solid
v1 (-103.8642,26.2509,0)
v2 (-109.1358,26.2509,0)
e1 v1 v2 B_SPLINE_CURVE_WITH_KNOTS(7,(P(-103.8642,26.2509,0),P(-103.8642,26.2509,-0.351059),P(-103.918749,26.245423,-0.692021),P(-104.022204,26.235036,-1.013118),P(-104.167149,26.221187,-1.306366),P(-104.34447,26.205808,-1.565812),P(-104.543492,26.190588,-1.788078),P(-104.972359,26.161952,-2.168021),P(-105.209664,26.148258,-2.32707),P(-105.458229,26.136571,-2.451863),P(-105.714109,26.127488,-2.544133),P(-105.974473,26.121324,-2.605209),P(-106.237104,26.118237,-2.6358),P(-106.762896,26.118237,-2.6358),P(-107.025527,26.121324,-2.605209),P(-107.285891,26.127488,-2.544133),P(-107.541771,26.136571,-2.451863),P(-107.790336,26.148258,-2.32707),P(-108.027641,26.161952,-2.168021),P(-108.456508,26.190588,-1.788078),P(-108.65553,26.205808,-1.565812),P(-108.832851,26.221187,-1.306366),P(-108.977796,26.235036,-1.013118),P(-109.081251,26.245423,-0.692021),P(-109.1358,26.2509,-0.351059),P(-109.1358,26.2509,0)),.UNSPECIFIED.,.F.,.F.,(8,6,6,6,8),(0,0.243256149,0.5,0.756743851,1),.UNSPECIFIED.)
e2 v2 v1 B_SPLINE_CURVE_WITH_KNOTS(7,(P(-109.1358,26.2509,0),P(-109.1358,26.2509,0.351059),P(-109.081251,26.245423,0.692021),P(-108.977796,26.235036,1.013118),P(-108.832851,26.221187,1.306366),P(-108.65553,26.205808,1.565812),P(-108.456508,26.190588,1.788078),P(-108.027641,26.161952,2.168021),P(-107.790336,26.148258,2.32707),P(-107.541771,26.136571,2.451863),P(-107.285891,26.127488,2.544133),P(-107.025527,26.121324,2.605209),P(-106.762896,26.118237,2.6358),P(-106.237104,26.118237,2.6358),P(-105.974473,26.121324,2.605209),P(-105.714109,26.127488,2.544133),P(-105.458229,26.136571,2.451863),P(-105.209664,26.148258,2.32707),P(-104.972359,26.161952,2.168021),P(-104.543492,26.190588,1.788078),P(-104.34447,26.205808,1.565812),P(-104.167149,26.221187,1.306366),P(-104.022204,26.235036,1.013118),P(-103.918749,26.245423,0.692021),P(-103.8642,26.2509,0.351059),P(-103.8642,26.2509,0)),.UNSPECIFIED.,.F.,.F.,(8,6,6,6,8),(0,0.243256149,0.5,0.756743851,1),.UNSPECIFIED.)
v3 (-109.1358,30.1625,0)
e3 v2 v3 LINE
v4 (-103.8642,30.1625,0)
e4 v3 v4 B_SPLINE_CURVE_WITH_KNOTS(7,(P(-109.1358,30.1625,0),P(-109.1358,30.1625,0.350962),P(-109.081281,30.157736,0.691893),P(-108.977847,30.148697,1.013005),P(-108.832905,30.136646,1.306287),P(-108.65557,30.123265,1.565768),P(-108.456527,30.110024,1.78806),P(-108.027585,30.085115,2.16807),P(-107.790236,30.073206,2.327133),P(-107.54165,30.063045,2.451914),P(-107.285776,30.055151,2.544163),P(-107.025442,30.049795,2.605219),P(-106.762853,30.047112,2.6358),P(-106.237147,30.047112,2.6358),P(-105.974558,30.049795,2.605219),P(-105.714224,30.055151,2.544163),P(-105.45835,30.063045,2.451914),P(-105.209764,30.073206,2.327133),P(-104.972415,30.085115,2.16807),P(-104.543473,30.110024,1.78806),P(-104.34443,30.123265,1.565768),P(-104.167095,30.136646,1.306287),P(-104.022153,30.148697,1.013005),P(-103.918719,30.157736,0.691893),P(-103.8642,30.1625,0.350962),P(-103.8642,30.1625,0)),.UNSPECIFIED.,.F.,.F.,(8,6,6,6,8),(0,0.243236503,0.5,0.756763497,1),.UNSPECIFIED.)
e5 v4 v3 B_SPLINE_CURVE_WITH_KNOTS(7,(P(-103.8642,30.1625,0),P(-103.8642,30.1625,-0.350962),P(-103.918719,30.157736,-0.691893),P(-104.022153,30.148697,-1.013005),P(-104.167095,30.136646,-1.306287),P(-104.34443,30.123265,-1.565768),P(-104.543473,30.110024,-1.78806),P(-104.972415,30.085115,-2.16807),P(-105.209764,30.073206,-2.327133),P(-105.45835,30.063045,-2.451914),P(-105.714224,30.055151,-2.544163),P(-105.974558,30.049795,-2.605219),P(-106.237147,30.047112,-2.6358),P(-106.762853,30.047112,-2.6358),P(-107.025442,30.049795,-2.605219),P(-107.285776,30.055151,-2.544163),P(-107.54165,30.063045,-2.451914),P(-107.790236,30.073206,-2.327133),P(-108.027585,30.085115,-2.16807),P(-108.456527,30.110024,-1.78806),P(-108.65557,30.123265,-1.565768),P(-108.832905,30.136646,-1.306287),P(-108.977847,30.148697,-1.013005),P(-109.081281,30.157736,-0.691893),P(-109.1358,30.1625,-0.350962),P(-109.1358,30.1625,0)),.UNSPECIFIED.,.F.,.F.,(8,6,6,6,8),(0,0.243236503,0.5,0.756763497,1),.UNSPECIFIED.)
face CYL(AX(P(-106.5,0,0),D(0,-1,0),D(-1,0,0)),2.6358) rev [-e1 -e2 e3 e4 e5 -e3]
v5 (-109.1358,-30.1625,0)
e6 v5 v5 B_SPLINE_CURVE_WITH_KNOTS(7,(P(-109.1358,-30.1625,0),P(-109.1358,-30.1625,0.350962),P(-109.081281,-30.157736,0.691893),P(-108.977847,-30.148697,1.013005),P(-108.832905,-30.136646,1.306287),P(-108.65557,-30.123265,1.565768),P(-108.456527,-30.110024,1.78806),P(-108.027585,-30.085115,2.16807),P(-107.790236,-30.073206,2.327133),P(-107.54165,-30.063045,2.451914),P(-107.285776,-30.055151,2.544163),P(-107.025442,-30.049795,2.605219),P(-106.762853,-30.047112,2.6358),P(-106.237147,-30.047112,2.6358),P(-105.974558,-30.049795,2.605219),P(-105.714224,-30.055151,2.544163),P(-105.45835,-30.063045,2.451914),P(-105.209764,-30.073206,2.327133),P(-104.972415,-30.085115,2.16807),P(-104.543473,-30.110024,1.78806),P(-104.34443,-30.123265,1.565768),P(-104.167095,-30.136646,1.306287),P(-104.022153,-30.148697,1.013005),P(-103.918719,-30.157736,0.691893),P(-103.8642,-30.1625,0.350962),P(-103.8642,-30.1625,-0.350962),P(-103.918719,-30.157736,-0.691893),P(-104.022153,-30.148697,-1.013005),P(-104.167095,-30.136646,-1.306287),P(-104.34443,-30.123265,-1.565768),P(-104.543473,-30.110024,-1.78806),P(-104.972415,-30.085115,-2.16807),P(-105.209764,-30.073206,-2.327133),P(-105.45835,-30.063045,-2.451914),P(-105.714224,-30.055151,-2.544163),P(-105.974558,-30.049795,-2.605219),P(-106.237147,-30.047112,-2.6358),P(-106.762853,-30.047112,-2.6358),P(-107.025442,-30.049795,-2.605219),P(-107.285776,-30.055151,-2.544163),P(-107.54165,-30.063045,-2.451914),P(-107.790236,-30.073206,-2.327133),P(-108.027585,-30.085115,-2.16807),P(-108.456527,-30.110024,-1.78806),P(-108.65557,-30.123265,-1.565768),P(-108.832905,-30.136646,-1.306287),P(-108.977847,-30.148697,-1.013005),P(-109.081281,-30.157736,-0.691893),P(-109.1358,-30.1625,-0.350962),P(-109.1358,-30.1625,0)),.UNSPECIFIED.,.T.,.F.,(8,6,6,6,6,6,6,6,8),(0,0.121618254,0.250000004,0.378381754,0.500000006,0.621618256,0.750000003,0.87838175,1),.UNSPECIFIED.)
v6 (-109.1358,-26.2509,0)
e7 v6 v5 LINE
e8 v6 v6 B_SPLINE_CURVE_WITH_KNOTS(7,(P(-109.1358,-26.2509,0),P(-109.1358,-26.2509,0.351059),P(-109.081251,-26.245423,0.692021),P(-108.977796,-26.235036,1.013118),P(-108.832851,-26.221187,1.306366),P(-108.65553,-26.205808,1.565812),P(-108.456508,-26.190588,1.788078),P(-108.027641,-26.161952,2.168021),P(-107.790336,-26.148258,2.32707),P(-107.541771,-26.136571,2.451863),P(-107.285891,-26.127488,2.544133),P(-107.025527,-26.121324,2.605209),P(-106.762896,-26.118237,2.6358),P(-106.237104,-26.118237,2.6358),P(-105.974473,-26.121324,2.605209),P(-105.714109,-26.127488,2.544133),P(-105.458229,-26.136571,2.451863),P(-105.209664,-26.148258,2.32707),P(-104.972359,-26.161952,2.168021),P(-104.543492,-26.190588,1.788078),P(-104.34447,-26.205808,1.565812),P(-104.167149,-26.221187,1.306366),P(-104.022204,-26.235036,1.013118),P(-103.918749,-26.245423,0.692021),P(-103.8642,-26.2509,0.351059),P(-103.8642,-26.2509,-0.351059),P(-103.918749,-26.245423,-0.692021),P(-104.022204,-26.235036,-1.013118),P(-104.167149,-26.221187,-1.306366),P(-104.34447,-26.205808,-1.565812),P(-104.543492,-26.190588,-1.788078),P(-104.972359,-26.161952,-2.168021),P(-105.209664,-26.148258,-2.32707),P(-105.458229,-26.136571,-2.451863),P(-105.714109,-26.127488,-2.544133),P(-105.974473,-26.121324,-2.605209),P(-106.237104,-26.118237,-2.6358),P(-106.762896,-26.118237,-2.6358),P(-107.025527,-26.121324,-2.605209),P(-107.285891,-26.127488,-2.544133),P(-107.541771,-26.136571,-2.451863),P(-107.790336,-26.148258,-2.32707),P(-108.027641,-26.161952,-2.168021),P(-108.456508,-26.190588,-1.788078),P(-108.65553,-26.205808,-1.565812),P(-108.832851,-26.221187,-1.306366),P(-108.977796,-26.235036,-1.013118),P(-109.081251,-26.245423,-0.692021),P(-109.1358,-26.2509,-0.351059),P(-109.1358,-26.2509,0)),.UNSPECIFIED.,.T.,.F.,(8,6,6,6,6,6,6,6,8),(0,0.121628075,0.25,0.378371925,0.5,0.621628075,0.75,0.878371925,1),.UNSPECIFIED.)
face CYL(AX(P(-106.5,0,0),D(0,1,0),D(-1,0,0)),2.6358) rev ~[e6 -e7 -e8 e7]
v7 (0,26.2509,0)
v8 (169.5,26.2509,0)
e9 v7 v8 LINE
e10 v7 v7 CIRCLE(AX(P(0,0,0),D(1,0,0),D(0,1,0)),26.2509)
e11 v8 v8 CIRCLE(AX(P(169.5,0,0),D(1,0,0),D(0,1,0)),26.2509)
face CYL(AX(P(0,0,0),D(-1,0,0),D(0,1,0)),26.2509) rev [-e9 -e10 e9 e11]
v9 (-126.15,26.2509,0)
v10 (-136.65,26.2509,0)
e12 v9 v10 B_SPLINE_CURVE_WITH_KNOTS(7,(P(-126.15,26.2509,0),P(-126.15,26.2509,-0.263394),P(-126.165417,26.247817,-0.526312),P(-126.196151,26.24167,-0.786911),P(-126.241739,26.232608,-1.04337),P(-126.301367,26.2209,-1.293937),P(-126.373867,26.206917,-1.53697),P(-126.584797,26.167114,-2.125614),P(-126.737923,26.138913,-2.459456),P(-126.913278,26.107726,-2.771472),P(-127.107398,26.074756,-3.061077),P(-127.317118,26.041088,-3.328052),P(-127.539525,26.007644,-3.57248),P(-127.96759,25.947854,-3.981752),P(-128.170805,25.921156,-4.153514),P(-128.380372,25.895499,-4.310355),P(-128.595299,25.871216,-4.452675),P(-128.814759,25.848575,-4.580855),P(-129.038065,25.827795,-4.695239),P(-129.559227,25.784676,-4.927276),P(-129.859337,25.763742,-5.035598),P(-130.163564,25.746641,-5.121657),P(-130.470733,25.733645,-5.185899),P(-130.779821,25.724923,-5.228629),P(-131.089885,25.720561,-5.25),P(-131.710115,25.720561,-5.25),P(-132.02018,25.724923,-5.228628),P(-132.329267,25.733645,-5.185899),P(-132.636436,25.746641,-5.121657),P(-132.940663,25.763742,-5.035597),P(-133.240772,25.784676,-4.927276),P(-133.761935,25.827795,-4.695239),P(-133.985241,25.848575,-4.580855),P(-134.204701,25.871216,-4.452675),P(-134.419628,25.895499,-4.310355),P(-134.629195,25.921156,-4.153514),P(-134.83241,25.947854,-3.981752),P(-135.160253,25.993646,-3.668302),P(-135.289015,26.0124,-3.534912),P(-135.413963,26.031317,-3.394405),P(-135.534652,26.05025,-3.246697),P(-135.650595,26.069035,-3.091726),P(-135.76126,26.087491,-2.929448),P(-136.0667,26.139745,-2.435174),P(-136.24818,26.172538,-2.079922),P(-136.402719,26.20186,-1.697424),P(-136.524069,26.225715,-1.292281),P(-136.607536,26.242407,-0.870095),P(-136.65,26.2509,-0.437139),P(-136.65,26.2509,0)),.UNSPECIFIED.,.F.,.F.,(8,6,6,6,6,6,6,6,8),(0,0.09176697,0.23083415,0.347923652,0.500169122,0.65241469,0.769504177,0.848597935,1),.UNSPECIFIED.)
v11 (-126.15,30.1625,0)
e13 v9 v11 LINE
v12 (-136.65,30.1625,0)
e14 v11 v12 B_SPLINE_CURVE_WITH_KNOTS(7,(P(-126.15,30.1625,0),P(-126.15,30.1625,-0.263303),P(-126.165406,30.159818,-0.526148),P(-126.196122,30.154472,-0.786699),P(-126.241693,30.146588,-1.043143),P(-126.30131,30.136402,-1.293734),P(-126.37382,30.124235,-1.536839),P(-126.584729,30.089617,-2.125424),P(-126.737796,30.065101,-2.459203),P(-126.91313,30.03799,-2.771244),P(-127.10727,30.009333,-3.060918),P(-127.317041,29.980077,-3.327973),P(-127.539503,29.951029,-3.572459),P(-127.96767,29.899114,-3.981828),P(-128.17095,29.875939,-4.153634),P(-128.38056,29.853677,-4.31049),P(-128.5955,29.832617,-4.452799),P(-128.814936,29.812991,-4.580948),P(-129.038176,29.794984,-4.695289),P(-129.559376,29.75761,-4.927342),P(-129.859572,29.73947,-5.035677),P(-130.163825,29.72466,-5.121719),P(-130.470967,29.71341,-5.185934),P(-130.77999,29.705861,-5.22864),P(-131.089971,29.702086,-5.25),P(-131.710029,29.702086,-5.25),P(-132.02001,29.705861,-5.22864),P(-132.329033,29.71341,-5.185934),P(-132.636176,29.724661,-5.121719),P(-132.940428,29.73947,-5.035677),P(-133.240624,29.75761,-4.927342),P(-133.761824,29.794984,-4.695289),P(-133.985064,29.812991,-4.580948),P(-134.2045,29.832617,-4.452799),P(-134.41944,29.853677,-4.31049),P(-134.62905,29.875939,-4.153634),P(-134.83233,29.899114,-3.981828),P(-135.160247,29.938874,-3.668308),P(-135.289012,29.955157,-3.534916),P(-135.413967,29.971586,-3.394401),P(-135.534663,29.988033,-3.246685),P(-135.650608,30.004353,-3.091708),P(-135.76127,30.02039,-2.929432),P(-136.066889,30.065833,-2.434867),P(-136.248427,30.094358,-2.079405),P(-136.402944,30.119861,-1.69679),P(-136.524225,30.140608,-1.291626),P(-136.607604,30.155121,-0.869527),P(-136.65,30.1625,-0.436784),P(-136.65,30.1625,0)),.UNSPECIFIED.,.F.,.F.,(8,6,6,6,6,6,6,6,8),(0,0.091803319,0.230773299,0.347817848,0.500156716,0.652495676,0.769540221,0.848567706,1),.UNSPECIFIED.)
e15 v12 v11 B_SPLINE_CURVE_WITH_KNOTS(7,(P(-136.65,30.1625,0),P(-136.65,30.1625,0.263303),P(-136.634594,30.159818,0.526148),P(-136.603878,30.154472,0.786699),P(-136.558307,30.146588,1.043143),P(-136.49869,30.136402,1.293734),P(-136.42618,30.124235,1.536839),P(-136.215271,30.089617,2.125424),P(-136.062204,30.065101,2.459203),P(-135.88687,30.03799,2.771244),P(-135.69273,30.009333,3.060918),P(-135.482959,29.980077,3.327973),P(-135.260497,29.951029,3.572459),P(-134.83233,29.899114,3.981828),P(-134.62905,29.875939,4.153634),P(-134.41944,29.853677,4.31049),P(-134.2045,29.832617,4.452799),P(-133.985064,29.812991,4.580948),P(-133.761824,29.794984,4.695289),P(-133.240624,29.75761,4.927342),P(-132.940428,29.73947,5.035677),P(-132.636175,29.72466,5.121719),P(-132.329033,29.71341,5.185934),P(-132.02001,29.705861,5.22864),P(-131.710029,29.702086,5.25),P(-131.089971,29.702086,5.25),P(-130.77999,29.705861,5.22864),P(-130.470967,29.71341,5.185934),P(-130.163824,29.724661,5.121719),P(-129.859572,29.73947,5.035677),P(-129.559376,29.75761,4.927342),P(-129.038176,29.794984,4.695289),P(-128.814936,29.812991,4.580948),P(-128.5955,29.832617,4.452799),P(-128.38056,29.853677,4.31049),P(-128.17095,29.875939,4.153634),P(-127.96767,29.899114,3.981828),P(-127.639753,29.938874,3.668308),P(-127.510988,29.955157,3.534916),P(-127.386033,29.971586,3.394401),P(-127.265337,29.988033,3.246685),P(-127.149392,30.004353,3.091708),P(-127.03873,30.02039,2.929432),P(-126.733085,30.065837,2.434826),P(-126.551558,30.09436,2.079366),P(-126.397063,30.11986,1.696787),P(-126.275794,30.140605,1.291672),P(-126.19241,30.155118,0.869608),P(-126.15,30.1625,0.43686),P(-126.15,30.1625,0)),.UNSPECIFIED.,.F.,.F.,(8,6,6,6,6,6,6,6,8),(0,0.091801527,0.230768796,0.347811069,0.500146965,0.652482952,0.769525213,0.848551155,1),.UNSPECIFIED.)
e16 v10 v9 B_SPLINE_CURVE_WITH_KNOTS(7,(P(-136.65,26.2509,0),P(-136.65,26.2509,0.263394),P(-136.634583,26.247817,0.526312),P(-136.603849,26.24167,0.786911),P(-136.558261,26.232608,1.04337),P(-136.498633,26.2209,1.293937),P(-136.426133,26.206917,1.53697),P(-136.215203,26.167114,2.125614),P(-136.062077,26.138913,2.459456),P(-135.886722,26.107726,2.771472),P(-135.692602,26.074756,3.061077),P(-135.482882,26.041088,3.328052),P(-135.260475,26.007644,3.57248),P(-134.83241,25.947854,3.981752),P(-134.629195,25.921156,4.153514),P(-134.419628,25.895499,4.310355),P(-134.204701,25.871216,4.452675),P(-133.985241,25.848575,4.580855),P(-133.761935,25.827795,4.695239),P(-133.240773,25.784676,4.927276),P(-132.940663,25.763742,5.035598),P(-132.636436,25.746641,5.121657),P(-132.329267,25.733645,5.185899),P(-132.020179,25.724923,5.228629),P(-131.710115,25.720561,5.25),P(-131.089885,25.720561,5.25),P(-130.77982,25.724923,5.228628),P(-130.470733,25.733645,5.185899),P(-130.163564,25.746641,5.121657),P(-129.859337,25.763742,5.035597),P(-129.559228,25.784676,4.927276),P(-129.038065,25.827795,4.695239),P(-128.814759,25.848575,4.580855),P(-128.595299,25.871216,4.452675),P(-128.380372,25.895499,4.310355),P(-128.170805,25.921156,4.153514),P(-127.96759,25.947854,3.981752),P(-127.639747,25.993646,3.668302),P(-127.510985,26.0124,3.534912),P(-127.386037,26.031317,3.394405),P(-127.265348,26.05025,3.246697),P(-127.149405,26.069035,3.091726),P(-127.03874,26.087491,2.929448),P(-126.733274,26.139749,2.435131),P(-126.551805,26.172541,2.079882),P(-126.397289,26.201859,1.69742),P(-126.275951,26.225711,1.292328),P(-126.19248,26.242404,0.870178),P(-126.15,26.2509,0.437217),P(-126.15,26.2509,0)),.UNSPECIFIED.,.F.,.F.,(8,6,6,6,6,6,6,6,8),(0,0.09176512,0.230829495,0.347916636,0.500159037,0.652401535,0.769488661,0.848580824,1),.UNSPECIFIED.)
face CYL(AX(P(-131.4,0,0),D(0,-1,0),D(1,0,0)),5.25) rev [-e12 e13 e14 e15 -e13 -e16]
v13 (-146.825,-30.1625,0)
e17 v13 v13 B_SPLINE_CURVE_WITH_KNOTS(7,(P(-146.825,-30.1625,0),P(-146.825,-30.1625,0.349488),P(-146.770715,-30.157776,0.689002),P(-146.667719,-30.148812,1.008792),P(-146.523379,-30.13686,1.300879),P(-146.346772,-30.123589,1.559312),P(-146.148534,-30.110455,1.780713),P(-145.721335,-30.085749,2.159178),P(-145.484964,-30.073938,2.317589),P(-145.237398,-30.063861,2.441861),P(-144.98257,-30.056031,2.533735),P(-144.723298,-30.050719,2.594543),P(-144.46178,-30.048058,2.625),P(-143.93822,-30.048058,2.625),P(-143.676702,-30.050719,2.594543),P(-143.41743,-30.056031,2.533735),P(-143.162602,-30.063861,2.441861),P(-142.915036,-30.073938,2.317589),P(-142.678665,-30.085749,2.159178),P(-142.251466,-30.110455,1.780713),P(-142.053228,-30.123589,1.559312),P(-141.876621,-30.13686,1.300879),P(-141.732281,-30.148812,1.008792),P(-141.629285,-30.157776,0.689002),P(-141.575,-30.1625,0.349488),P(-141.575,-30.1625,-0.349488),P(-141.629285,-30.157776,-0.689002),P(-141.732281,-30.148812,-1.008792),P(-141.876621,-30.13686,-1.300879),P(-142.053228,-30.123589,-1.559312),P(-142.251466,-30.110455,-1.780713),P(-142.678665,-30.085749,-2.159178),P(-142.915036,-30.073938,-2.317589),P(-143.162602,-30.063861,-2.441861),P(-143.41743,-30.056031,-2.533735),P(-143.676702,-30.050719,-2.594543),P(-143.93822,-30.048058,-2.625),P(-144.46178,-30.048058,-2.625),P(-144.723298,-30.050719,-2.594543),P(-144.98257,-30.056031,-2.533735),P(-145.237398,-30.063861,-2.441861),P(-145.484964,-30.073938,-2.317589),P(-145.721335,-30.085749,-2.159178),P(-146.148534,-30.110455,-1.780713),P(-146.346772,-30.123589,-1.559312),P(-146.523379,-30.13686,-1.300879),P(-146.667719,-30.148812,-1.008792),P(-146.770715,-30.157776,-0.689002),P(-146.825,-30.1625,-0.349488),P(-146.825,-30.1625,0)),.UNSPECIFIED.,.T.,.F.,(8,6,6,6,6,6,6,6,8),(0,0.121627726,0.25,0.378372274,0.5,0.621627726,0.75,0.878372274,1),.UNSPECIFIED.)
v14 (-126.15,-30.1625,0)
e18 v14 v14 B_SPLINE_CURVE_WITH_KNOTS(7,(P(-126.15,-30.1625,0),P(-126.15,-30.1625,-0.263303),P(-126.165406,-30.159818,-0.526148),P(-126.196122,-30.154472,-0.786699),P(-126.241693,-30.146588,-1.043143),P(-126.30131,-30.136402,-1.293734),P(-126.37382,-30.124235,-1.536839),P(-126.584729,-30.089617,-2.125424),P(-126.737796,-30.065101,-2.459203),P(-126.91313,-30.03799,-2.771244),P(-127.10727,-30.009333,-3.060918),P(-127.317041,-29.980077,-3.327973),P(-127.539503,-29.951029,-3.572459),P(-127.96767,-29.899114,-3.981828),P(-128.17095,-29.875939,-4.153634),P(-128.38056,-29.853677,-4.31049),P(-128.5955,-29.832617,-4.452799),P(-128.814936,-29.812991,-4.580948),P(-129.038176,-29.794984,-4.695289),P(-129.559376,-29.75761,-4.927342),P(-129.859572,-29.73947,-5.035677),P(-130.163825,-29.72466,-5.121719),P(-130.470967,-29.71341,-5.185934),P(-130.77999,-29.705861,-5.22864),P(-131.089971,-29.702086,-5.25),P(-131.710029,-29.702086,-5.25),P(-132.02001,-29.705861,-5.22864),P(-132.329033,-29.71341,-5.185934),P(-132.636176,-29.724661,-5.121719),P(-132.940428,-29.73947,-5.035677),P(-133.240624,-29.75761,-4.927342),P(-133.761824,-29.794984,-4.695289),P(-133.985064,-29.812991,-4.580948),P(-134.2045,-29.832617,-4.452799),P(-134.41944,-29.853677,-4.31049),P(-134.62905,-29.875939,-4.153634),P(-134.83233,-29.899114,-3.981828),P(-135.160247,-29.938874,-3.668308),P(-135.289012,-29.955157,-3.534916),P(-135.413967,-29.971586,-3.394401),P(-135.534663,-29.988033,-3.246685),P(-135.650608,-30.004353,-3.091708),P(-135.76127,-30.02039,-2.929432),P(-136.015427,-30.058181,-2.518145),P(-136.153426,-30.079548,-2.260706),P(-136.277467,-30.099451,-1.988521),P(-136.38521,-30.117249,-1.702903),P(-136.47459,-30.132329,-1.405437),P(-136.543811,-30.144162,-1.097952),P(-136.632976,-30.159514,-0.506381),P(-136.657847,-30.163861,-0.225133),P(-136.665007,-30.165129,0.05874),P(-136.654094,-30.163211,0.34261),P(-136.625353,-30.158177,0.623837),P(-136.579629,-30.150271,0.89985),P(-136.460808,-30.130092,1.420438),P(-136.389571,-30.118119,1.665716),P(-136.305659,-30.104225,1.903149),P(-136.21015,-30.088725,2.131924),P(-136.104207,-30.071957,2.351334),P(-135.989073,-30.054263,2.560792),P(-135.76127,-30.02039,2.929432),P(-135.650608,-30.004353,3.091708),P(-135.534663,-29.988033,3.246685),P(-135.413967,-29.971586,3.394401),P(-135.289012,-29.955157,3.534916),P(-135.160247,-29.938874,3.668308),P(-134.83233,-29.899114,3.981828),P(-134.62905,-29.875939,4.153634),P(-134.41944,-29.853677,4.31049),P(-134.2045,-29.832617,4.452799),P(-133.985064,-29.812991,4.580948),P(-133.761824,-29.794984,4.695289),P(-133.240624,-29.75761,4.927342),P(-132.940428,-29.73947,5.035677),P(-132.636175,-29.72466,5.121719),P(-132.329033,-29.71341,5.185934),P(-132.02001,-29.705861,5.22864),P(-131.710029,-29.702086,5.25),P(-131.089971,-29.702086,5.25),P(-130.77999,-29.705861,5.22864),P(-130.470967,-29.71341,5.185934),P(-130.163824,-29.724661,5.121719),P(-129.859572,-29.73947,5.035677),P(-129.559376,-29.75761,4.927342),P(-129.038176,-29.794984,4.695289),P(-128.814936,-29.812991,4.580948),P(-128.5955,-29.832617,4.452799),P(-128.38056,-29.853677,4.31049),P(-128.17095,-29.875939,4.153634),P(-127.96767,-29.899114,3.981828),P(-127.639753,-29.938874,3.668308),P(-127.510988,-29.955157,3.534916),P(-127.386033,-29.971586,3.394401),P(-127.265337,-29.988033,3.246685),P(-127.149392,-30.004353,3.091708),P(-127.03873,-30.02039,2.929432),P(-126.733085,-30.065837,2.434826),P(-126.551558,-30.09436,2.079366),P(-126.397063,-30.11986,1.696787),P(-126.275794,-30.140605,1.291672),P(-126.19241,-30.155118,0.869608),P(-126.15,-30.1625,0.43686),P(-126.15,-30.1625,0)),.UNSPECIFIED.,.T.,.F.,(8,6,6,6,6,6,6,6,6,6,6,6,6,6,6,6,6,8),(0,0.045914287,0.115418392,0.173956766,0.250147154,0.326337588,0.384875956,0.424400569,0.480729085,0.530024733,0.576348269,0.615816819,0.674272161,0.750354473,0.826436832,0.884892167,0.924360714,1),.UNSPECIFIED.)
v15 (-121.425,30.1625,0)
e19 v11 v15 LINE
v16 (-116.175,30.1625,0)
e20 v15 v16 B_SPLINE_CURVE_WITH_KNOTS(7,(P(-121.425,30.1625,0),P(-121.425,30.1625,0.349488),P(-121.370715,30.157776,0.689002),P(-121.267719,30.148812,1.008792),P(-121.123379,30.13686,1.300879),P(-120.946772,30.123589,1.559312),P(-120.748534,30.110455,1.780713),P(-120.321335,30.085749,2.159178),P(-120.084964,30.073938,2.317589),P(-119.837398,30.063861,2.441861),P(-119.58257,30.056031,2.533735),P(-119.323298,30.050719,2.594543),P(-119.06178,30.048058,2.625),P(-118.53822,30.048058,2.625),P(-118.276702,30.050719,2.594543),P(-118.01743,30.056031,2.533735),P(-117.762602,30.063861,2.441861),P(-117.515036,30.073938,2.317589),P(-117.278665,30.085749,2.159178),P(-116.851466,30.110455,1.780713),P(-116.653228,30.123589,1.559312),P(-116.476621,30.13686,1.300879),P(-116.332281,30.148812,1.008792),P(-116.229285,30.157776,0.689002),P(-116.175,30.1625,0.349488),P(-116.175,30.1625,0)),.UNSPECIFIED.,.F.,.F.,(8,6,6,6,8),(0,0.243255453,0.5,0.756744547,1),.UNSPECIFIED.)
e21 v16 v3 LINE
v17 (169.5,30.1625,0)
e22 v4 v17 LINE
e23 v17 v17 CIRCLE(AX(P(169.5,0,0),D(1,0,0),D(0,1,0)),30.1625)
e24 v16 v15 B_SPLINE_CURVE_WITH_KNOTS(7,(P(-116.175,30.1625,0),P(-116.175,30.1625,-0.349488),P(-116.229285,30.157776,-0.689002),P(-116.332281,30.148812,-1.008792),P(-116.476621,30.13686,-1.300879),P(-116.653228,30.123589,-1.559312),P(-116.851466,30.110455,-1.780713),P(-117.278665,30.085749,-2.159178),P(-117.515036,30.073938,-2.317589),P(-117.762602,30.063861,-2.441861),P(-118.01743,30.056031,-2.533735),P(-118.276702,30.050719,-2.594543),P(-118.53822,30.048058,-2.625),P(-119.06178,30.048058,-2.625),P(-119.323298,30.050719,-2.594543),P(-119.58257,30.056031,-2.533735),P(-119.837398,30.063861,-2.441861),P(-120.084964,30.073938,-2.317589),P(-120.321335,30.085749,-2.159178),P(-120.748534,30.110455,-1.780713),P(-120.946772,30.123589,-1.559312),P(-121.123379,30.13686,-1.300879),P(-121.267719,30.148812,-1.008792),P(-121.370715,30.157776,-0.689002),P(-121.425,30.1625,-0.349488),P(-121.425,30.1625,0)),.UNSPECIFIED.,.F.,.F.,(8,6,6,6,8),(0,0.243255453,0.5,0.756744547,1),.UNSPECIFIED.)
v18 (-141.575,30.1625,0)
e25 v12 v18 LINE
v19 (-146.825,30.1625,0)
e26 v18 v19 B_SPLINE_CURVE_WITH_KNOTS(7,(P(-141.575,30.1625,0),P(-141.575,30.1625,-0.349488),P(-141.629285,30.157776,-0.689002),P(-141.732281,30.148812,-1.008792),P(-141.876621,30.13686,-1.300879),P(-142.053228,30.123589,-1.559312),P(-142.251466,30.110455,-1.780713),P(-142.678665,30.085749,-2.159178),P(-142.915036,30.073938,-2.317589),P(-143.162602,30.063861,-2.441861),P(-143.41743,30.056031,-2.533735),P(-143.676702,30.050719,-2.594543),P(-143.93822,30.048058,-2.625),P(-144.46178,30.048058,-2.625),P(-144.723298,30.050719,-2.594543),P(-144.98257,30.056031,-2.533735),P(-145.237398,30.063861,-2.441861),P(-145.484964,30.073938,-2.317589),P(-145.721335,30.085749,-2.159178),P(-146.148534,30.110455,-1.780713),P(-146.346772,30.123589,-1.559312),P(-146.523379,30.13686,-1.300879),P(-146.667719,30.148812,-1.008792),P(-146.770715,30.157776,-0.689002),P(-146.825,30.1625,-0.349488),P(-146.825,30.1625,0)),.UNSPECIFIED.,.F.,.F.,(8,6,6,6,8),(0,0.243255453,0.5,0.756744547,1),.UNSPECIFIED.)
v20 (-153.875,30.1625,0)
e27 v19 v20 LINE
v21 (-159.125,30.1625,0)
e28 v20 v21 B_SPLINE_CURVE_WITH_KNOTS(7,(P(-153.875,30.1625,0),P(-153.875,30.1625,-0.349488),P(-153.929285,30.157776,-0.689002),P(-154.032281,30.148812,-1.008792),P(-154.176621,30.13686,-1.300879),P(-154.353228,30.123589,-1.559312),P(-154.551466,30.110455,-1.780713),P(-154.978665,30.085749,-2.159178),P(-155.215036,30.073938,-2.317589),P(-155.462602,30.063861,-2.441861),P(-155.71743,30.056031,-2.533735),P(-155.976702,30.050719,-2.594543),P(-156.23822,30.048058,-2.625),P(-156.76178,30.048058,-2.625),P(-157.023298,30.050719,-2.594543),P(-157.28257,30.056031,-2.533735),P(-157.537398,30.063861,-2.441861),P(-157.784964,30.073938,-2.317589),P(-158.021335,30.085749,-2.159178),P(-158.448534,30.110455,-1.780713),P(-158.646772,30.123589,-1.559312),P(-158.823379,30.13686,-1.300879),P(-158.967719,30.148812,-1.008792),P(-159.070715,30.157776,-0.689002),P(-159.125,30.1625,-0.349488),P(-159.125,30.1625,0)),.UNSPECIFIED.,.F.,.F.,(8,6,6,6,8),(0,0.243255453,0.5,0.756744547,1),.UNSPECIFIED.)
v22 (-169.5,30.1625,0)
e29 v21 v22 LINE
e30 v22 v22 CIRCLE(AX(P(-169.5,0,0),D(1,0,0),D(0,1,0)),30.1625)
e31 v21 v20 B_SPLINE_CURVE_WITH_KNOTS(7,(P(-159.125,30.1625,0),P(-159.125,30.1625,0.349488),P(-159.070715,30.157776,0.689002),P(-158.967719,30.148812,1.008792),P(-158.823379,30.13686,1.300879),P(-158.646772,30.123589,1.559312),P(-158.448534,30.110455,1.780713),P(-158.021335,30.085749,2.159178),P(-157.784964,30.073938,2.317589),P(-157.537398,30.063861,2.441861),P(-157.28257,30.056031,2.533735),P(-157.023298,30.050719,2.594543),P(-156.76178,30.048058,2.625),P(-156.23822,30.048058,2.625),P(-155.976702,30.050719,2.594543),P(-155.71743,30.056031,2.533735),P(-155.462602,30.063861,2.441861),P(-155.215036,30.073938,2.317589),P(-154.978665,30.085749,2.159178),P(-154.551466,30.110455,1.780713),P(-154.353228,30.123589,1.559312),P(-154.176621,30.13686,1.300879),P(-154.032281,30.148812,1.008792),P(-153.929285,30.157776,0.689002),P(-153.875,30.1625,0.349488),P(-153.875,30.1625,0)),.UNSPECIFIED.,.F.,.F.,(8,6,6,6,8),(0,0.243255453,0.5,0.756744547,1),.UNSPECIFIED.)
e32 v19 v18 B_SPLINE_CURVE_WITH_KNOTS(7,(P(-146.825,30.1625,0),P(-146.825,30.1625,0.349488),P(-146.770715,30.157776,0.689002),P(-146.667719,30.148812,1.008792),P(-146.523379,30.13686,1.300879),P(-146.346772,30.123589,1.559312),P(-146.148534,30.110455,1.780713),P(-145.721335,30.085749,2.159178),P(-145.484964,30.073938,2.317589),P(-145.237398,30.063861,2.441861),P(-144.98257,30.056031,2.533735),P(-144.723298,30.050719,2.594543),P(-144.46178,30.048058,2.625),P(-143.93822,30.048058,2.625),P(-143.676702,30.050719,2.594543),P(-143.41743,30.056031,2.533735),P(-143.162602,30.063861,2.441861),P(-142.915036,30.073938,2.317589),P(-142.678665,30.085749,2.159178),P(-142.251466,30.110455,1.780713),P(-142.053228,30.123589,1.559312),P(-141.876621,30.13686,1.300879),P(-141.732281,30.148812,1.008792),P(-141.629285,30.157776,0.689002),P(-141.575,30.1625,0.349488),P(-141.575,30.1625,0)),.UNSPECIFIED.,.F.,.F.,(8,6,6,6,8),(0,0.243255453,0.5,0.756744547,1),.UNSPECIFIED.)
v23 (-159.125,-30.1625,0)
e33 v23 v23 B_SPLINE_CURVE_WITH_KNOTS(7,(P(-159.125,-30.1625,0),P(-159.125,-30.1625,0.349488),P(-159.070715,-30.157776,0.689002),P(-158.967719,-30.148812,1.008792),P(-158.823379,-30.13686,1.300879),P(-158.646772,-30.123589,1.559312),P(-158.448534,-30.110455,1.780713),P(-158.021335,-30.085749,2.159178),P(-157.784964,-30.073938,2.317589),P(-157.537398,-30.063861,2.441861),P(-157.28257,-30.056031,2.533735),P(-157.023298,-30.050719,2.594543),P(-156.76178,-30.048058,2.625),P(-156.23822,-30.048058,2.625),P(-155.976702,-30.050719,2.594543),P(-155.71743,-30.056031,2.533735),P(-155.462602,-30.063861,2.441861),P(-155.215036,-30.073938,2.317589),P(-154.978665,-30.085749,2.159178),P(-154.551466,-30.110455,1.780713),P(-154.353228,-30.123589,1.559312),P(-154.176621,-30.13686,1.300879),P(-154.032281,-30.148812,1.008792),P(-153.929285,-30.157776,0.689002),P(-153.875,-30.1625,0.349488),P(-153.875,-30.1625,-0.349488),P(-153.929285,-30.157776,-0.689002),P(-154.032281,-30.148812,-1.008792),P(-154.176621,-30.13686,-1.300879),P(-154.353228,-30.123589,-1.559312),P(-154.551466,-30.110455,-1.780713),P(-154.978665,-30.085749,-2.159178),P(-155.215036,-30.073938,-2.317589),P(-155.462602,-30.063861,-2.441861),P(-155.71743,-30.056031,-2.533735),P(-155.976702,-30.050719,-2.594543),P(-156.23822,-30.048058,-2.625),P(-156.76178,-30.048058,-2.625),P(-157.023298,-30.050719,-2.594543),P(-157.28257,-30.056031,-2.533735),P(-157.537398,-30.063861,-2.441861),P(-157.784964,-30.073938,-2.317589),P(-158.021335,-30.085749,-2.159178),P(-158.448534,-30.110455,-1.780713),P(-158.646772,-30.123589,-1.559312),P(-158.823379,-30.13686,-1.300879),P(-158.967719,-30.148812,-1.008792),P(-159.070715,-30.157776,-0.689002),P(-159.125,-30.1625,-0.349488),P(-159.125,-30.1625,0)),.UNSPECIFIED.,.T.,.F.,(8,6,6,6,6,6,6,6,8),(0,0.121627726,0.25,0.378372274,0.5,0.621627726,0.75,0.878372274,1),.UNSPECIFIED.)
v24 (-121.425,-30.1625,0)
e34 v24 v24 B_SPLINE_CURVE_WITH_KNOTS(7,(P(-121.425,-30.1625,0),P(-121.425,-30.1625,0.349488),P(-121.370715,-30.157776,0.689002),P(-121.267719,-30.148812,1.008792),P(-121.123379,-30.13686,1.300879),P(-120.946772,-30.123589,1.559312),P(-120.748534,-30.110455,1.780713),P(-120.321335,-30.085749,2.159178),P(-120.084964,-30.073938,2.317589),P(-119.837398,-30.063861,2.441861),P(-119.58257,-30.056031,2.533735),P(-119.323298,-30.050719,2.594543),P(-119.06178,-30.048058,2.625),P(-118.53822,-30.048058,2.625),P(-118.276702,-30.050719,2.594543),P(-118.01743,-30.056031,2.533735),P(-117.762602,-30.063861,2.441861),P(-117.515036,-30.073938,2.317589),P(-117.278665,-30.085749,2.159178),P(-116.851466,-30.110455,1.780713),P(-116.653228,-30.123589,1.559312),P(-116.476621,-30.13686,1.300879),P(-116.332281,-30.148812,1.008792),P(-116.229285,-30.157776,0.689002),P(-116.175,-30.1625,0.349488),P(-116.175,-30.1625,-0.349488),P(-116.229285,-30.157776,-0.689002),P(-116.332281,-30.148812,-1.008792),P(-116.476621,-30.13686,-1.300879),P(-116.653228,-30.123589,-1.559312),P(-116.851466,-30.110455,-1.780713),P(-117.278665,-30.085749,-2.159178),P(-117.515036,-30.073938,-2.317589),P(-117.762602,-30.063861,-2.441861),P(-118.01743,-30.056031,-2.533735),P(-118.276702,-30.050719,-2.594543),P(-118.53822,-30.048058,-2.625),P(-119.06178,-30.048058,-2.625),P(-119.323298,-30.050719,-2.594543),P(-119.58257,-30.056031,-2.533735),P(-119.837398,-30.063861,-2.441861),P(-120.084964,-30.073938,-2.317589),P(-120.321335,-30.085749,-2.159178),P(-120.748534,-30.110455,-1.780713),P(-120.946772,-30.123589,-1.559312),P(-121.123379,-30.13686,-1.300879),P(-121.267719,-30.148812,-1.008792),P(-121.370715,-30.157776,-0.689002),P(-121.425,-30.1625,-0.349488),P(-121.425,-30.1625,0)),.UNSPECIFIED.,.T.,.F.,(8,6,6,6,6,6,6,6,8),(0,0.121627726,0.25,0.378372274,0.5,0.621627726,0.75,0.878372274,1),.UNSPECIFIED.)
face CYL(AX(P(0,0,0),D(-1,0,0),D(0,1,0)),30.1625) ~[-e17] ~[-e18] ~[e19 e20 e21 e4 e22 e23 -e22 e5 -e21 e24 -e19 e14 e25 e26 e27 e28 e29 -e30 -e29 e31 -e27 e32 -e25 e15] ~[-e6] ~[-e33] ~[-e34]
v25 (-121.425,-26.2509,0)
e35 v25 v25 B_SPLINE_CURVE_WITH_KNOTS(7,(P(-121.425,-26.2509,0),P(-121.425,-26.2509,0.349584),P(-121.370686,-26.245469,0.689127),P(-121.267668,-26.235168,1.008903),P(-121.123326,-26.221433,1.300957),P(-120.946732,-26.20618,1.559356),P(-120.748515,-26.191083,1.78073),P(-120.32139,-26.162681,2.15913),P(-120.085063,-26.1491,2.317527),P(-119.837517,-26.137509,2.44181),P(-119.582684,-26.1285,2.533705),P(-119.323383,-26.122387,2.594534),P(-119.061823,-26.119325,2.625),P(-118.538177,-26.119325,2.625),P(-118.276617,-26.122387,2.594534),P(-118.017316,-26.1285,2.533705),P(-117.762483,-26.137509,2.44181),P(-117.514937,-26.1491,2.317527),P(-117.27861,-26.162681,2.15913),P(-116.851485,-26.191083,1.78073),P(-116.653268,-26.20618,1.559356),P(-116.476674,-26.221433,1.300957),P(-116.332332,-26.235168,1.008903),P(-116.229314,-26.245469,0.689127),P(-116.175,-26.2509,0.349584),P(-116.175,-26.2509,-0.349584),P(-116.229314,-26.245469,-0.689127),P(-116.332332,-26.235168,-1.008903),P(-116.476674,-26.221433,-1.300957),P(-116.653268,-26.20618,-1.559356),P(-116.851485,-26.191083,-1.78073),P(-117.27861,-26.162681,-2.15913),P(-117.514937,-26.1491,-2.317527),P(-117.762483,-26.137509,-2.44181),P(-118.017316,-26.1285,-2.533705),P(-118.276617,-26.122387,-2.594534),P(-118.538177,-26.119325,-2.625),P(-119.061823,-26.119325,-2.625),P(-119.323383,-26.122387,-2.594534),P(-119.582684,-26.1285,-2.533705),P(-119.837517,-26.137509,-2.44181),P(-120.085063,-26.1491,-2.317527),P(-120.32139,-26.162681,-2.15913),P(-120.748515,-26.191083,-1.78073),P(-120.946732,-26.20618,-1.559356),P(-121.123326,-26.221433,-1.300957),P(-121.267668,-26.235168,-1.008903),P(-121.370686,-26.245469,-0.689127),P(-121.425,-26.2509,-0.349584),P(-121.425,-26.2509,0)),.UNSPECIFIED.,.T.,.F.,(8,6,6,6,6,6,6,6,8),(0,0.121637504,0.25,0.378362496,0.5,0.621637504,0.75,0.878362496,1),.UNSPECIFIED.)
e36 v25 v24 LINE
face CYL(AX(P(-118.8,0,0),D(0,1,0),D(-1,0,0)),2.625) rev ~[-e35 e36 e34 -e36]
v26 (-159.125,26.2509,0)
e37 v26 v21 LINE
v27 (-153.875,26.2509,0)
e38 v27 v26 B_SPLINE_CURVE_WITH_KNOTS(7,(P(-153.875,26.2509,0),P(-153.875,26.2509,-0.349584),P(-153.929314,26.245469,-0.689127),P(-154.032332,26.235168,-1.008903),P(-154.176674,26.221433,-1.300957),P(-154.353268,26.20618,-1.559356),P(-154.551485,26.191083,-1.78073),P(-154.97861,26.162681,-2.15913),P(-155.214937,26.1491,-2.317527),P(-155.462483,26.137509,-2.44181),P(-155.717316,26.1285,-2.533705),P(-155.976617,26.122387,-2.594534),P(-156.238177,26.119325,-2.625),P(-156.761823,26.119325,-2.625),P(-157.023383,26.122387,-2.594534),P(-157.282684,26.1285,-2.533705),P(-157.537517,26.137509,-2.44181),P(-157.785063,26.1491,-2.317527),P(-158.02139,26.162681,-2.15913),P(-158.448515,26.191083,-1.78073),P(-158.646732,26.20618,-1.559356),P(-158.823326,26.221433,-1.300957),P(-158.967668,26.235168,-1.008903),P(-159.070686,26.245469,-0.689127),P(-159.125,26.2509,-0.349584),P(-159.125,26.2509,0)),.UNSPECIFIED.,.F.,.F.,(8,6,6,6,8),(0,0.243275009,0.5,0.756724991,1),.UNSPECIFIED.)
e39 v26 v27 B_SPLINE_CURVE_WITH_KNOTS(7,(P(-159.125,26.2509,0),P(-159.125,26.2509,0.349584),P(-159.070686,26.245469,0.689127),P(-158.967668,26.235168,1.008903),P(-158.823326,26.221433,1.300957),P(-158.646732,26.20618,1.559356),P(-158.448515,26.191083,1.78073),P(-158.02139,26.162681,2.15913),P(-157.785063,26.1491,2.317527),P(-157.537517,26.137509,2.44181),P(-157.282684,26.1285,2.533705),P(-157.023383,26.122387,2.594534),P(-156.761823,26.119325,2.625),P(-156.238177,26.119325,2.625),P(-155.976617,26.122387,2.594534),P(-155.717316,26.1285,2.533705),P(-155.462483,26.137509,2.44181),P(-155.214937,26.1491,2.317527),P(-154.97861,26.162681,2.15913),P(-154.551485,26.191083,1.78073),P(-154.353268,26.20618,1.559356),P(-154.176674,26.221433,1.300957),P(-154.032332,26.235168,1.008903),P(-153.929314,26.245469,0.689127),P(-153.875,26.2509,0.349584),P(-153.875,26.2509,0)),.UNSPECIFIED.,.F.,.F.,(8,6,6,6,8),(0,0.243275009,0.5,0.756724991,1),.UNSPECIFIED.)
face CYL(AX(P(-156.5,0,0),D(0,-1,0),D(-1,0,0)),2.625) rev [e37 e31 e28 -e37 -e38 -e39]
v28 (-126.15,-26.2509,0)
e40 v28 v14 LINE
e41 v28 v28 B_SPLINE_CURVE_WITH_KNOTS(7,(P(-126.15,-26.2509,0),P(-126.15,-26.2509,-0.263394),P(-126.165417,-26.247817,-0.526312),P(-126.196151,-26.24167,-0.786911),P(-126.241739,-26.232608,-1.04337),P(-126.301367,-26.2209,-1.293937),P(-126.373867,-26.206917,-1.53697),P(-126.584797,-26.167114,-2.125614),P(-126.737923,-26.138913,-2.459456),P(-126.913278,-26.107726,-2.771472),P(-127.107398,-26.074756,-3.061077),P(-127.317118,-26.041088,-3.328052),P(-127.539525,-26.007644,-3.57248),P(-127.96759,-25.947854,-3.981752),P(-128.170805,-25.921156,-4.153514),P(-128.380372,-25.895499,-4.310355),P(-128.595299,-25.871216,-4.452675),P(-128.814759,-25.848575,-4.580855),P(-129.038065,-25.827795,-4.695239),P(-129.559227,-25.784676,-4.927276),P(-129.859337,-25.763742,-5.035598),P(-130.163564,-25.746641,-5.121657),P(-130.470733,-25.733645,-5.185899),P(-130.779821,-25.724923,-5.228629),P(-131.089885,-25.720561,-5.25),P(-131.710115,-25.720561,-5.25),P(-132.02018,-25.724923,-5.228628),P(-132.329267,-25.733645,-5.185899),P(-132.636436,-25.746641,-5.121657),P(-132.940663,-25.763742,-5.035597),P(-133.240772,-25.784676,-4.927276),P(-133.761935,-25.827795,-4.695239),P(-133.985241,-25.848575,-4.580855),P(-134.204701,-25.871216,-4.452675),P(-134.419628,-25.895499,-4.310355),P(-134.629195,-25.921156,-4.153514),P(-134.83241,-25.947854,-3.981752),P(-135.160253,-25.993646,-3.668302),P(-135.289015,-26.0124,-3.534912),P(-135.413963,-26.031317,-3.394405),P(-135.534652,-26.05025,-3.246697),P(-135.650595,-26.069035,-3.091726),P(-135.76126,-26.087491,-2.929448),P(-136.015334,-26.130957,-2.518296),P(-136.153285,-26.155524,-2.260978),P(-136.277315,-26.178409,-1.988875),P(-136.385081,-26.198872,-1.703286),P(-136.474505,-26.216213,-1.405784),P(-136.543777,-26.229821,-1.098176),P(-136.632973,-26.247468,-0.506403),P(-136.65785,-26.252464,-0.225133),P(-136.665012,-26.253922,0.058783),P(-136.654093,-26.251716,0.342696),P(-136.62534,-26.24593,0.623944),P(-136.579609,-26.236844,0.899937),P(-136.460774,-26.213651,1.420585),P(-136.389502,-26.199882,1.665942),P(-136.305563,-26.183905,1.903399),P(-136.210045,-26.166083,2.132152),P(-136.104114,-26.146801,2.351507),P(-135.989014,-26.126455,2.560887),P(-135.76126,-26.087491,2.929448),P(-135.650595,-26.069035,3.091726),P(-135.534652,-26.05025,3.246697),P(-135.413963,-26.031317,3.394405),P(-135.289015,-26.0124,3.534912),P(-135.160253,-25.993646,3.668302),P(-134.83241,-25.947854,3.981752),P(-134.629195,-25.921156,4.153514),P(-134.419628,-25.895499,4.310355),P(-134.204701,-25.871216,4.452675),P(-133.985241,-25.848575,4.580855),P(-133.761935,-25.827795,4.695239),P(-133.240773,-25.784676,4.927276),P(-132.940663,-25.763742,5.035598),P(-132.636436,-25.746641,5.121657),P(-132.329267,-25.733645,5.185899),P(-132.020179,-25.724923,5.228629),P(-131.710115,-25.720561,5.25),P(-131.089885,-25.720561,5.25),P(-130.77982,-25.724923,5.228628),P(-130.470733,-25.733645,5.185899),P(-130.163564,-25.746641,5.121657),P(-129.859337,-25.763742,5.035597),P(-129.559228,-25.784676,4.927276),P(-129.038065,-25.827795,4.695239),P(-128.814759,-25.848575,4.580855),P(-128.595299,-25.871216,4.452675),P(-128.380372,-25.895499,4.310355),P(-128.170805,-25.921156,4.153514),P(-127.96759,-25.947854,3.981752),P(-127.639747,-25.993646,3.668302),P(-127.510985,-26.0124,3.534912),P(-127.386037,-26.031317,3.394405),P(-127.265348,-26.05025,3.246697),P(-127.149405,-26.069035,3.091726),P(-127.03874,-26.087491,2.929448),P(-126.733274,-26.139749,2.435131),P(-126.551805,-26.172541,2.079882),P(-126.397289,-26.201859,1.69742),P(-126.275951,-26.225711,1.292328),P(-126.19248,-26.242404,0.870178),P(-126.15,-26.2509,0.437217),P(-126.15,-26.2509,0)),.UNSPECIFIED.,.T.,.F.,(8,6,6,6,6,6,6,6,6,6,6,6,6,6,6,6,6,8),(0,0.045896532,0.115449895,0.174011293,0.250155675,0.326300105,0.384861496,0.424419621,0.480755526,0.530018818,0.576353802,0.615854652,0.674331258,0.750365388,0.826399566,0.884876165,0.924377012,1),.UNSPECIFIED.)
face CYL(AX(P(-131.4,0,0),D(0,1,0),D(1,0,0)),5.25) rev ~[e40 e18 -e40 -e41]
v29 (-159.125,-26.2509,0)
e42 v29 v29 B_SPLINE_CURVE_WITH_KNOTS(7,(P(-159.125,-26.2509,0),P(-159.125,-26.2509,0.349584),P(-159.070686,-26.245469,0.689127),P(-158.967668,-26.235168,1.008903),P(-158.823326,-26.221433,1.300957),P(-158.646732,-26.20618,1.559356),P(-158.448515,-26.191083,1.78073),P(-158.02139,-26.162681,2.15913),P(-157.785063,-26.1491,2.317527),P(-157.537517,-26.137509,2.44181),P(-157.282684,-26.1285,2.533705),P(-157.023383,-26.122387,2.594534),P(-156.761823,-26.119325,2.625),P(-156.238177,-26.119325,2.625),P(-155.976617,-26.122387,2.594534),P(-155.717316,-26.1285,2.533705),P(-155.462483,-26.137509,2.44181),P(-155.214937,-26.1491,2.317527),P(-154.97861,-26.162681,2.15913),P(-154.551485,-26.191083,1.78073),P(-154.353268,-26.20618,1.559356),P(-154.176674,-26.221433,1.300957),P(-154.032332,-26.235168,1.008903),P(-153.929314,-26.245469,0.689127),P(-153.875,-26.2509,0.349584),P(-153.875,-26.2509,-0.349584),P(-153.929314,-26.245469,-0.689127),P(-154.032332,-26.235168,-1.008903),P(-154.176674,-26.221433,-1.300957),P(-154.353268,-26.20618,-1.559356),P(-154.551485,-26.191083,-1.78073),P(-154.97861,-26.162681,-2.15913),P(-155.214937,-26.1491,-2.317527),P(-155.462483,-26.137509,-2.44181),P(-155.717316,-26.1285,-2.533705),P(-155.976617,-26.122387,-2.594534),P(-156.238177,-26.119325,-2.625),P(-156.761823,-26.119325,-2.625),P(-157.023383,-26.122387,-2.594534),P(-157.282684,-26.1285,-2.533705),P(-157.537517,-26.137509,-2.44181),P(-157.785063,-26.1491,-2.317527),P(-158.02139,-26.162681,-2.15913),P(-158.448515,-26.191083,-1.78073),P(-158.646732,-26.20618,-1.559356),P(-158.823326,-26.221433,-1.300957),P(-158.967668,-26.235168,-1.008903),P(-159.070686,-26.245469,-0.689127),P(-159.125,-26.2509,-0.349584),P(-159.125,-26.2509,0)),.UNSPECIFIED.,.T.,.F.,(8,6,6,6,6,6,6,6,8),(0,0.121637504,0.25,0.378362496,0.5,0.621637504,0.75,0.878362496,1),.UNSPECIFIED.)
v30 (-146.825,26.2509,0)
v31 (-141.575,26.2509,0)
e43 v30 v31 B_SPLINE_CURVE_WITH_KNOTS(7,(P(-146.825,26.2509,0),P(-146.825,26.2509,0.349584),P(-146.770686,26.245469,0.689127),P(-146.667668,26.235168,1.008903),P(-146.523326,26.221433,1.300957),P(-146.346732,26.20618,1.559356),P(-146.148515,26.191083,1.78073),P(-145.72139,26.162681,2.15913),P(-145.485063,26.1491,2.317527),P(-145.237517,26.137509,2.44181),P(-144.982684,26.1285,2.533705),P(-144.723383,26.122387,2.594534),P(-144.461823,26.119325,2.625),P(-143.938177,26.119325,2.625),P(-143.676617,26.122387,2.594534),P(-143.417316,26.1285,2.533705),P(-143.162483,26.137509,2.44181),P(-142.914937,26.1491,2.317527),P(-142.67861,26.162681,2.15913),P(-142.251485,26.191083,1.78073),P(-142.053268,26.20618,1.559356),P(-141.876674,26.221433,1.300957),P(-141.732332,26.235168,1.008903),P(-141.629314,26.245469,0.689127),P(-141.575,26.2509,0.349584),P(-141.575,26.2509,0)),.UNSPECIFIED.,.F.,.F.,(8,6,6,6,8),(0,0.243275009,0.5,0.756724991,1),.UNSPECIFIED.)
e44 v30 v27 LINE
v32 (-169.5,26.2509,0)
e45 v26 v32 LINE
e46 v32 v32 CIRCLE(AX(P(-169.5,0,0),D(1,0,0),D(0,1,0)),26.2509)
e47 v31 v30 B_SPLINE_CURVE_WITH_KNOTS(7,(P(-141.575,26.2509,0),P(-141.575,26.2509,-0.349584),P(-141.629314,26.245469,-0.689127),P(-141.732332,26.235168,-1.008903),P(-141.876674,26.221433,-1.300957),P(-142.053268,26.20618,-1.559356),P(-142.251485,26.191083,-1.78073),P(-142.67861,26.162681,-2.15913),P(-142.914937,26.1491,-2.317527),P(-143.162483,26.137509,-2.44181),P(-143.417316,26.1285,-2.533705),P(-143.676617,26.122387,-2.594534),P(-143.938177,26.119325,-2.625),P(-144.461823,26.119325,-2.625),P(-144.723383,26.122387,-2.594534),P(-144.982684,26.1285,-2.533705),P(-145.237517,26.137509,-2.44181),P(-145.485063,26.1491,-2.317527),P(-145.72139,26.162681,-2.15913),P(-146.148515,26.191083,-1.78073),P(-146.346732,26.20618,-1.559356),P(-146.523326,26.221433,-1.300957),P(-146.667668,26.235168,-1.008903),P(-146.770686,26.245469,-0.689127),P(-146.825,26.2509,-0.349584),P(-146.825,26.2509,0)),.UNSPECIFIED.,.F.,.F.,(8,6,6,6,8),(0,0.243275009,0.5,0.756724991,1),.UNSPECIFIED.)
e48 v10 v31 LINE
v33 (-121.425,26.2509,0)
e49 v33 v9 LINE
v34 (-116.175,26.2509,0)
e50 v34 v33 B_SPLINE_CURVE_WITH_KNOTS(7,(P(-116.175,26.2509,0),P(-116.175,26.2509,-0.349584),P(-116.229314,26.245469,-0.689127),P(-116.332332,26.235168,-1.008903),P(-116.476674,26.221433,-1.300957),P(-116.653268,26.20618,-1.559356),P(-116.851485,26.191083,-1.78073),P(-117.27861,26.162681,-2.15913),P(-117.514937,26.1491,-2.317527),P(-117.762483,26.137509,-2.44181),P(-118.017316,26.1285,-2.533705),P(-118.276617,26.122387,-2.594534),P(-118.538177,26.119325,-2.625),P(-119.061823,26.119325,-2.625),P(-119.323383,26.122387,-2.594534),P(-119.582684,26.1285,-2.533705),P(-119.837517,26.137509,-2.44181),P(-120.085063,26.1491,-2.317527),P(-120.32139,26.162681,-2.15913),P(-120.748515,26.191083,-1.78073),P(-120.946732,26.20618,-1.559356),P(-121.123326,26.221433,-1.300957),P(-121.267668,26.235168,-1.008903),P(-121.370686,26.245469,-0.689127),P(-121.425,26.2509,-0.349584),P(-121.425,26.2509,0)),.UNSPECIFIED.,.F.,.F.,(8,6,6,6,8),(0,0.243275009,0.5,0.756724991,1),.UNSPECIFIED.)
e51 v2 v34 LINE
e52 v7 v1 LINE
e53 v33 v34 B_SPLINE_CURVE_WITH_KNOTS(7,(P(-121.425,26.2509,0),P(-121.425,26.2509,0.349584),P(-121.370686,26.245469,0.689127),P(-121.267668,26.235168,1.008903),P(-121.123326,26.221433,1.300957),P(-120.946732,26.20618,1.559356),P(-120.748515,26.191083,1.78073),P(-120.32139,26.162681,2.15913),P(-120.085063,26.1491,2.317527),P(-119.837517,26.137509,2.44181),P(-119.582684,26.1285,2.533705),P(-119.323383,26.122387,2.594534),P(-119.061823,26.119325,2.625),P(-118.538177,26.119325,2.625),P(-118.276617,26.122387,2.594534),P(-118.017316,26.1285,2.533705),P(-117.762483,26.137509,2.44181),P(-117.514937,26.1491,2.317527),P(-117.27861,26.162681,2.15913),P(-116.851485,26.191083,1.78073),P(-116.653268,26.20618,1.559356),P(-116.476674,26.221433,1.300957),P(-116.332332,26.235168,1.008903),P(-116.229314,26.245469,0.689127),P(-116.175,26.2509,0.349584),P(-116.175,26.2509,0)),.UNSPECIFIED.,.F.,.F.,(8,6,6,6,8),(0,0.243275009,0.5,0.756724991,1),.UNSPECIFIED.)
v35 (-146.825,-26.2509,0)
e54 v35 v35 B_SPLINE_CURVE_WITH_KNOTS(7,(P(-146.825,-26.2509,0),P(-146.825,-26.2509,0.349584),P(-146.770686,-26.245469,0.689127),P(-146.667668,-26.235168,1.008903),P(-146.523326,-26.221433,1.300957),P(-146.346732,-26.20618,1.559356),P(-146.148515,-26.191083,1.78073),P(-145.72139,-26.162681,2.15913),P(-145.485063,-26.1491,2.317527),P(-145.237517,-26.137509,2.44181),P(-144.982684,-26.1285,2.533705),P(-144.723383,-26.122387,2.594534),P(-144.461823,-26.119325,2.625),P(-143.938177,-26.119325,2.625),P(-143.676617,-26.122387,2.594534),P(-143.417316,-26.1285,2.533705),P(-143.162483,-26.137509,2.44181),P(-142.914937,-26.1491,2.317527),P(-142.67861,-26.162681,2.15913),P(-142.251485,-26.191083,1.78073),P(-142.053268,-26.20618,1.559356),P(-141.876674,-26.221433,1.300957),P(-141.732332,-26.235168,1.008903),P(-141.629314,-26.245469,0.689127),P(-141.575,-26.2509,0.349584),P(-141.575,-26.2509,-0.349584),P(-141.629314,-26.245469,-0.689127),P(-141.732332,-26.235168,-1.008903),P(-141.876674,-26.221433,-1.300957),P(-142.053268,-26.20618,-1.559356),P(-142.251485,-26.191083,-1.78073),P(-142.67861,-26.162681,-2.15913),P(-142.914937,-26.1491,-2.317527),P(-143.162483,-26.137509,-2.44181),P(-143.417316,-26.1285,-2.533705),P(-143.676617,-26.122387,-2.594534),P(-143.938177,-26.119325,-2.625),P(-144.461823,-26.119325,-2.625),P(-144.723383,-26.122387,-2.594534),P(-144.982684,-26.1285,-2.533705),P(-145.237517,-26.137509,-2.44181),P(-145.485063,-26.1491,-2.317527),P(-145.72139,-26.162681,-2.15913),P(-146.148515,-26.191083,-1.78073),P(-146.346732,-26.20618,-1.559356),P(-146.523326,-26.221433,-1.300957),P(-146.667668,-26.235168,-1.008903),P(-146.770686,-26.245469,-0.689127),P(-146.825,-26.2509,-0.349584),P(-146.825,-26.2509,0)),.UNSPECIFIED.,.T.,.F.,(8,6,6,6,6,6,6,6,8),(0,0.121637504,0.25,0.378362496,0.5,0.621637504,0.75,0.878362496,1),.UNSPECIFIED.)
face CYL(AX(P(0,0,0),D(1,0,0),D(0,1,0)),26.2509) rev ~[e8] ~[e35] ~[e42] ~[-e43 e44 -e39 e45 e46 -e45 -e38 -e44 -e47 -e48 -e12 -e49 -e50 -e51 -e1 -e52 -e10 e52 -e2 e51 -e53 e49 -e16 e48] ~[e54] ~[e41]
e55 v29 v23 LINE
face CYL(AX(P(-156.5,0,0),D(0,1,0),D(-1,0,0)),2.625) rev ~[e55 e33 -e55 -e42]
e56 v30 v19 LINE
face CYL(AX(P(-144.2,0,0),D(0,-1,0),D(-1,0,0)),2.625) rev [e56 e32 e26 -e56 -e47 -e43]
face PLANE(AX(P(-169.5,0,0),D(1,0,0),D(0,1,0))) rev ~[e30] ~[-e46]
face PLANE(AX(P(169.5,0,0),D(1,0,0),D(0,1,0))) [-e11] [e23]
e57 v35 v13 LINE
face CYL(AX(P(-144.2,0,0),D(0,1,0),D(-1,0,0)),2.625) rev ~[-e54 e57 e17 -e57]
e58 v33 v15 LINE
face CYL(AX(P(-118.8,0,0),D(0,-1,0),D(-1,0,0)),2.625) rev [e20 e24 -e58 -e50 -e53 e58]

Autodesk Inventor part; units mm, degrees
ref_plane "YZ Plane" through (0, 0, 0) normal (1, 0, 0) x (0, 1, 0)
ref_plane "XZ Plane" through (0, 0, 0) normal (0, 1, 0) x (-1, 0, 0)
ref_plane "XY Plane" through (0, 0, 0) normal (0, 0, 1) x (1, 0, 0)
sketch "Sketch1" plane through (0, 0, 0) normal (1, 0, 0) x (0, 1, 0)
  circle A0 centre (0, 0) radius 26.2509
  circle A1 centre (0, 0) radius 30.1625
  dimension "d0" = 52.5018
  dimension "d1" = 3.9116
extrude "Extrusion1" add sketch "Sketch1" along normal mid plane 339
sketch "Sketch2" plane through (0, 0, 0) normal (0, 1, 0) x (1, 0, 0)
  circle A0 centre (-131.4, 0) radius 5.25
  line L0 (-169.5, -26.2509) -> (-169.5, 26.2509) projected
  point P0 (0, 0)
  dimension "d4" = 10.5
  dimension "d5" = 38.1
extrude "Extrusion2" cut sketch "Sketch2" along normal through all both and the other way through all
sketch "Sketch3" plane through (0, 0, 0) normal (0, 1, 0) x (-1, 0, 0)
  circle A0 centre (156.5, 0) radius 2.625
  circle A1 centre (106.5, 0) radius 2.6358
  line L0 (0, 0) -> (162.823, 0) construction
  line L1 (131.5, 0) -> (131.5, -16.0563) construction
  line L2 (169.5, 26.2509) -> (169.5, -26.2509) construction
  circle A2 centre (144.2, 0) radius 2.625
  circle A3 centre (118.8, 0) radius 2.625
  dimension "d8" = 5.25
  dimension "d9" = 50
  dimension "d10" = 38
  dimension "d13" = 5.25
  dimension "d14" = 25.4
extrude "Extrusion3" cut sketch "Sketch3" along normal through all both and the other way through all
properties part number "Arm Segment 2" material "PVC-Piping"
